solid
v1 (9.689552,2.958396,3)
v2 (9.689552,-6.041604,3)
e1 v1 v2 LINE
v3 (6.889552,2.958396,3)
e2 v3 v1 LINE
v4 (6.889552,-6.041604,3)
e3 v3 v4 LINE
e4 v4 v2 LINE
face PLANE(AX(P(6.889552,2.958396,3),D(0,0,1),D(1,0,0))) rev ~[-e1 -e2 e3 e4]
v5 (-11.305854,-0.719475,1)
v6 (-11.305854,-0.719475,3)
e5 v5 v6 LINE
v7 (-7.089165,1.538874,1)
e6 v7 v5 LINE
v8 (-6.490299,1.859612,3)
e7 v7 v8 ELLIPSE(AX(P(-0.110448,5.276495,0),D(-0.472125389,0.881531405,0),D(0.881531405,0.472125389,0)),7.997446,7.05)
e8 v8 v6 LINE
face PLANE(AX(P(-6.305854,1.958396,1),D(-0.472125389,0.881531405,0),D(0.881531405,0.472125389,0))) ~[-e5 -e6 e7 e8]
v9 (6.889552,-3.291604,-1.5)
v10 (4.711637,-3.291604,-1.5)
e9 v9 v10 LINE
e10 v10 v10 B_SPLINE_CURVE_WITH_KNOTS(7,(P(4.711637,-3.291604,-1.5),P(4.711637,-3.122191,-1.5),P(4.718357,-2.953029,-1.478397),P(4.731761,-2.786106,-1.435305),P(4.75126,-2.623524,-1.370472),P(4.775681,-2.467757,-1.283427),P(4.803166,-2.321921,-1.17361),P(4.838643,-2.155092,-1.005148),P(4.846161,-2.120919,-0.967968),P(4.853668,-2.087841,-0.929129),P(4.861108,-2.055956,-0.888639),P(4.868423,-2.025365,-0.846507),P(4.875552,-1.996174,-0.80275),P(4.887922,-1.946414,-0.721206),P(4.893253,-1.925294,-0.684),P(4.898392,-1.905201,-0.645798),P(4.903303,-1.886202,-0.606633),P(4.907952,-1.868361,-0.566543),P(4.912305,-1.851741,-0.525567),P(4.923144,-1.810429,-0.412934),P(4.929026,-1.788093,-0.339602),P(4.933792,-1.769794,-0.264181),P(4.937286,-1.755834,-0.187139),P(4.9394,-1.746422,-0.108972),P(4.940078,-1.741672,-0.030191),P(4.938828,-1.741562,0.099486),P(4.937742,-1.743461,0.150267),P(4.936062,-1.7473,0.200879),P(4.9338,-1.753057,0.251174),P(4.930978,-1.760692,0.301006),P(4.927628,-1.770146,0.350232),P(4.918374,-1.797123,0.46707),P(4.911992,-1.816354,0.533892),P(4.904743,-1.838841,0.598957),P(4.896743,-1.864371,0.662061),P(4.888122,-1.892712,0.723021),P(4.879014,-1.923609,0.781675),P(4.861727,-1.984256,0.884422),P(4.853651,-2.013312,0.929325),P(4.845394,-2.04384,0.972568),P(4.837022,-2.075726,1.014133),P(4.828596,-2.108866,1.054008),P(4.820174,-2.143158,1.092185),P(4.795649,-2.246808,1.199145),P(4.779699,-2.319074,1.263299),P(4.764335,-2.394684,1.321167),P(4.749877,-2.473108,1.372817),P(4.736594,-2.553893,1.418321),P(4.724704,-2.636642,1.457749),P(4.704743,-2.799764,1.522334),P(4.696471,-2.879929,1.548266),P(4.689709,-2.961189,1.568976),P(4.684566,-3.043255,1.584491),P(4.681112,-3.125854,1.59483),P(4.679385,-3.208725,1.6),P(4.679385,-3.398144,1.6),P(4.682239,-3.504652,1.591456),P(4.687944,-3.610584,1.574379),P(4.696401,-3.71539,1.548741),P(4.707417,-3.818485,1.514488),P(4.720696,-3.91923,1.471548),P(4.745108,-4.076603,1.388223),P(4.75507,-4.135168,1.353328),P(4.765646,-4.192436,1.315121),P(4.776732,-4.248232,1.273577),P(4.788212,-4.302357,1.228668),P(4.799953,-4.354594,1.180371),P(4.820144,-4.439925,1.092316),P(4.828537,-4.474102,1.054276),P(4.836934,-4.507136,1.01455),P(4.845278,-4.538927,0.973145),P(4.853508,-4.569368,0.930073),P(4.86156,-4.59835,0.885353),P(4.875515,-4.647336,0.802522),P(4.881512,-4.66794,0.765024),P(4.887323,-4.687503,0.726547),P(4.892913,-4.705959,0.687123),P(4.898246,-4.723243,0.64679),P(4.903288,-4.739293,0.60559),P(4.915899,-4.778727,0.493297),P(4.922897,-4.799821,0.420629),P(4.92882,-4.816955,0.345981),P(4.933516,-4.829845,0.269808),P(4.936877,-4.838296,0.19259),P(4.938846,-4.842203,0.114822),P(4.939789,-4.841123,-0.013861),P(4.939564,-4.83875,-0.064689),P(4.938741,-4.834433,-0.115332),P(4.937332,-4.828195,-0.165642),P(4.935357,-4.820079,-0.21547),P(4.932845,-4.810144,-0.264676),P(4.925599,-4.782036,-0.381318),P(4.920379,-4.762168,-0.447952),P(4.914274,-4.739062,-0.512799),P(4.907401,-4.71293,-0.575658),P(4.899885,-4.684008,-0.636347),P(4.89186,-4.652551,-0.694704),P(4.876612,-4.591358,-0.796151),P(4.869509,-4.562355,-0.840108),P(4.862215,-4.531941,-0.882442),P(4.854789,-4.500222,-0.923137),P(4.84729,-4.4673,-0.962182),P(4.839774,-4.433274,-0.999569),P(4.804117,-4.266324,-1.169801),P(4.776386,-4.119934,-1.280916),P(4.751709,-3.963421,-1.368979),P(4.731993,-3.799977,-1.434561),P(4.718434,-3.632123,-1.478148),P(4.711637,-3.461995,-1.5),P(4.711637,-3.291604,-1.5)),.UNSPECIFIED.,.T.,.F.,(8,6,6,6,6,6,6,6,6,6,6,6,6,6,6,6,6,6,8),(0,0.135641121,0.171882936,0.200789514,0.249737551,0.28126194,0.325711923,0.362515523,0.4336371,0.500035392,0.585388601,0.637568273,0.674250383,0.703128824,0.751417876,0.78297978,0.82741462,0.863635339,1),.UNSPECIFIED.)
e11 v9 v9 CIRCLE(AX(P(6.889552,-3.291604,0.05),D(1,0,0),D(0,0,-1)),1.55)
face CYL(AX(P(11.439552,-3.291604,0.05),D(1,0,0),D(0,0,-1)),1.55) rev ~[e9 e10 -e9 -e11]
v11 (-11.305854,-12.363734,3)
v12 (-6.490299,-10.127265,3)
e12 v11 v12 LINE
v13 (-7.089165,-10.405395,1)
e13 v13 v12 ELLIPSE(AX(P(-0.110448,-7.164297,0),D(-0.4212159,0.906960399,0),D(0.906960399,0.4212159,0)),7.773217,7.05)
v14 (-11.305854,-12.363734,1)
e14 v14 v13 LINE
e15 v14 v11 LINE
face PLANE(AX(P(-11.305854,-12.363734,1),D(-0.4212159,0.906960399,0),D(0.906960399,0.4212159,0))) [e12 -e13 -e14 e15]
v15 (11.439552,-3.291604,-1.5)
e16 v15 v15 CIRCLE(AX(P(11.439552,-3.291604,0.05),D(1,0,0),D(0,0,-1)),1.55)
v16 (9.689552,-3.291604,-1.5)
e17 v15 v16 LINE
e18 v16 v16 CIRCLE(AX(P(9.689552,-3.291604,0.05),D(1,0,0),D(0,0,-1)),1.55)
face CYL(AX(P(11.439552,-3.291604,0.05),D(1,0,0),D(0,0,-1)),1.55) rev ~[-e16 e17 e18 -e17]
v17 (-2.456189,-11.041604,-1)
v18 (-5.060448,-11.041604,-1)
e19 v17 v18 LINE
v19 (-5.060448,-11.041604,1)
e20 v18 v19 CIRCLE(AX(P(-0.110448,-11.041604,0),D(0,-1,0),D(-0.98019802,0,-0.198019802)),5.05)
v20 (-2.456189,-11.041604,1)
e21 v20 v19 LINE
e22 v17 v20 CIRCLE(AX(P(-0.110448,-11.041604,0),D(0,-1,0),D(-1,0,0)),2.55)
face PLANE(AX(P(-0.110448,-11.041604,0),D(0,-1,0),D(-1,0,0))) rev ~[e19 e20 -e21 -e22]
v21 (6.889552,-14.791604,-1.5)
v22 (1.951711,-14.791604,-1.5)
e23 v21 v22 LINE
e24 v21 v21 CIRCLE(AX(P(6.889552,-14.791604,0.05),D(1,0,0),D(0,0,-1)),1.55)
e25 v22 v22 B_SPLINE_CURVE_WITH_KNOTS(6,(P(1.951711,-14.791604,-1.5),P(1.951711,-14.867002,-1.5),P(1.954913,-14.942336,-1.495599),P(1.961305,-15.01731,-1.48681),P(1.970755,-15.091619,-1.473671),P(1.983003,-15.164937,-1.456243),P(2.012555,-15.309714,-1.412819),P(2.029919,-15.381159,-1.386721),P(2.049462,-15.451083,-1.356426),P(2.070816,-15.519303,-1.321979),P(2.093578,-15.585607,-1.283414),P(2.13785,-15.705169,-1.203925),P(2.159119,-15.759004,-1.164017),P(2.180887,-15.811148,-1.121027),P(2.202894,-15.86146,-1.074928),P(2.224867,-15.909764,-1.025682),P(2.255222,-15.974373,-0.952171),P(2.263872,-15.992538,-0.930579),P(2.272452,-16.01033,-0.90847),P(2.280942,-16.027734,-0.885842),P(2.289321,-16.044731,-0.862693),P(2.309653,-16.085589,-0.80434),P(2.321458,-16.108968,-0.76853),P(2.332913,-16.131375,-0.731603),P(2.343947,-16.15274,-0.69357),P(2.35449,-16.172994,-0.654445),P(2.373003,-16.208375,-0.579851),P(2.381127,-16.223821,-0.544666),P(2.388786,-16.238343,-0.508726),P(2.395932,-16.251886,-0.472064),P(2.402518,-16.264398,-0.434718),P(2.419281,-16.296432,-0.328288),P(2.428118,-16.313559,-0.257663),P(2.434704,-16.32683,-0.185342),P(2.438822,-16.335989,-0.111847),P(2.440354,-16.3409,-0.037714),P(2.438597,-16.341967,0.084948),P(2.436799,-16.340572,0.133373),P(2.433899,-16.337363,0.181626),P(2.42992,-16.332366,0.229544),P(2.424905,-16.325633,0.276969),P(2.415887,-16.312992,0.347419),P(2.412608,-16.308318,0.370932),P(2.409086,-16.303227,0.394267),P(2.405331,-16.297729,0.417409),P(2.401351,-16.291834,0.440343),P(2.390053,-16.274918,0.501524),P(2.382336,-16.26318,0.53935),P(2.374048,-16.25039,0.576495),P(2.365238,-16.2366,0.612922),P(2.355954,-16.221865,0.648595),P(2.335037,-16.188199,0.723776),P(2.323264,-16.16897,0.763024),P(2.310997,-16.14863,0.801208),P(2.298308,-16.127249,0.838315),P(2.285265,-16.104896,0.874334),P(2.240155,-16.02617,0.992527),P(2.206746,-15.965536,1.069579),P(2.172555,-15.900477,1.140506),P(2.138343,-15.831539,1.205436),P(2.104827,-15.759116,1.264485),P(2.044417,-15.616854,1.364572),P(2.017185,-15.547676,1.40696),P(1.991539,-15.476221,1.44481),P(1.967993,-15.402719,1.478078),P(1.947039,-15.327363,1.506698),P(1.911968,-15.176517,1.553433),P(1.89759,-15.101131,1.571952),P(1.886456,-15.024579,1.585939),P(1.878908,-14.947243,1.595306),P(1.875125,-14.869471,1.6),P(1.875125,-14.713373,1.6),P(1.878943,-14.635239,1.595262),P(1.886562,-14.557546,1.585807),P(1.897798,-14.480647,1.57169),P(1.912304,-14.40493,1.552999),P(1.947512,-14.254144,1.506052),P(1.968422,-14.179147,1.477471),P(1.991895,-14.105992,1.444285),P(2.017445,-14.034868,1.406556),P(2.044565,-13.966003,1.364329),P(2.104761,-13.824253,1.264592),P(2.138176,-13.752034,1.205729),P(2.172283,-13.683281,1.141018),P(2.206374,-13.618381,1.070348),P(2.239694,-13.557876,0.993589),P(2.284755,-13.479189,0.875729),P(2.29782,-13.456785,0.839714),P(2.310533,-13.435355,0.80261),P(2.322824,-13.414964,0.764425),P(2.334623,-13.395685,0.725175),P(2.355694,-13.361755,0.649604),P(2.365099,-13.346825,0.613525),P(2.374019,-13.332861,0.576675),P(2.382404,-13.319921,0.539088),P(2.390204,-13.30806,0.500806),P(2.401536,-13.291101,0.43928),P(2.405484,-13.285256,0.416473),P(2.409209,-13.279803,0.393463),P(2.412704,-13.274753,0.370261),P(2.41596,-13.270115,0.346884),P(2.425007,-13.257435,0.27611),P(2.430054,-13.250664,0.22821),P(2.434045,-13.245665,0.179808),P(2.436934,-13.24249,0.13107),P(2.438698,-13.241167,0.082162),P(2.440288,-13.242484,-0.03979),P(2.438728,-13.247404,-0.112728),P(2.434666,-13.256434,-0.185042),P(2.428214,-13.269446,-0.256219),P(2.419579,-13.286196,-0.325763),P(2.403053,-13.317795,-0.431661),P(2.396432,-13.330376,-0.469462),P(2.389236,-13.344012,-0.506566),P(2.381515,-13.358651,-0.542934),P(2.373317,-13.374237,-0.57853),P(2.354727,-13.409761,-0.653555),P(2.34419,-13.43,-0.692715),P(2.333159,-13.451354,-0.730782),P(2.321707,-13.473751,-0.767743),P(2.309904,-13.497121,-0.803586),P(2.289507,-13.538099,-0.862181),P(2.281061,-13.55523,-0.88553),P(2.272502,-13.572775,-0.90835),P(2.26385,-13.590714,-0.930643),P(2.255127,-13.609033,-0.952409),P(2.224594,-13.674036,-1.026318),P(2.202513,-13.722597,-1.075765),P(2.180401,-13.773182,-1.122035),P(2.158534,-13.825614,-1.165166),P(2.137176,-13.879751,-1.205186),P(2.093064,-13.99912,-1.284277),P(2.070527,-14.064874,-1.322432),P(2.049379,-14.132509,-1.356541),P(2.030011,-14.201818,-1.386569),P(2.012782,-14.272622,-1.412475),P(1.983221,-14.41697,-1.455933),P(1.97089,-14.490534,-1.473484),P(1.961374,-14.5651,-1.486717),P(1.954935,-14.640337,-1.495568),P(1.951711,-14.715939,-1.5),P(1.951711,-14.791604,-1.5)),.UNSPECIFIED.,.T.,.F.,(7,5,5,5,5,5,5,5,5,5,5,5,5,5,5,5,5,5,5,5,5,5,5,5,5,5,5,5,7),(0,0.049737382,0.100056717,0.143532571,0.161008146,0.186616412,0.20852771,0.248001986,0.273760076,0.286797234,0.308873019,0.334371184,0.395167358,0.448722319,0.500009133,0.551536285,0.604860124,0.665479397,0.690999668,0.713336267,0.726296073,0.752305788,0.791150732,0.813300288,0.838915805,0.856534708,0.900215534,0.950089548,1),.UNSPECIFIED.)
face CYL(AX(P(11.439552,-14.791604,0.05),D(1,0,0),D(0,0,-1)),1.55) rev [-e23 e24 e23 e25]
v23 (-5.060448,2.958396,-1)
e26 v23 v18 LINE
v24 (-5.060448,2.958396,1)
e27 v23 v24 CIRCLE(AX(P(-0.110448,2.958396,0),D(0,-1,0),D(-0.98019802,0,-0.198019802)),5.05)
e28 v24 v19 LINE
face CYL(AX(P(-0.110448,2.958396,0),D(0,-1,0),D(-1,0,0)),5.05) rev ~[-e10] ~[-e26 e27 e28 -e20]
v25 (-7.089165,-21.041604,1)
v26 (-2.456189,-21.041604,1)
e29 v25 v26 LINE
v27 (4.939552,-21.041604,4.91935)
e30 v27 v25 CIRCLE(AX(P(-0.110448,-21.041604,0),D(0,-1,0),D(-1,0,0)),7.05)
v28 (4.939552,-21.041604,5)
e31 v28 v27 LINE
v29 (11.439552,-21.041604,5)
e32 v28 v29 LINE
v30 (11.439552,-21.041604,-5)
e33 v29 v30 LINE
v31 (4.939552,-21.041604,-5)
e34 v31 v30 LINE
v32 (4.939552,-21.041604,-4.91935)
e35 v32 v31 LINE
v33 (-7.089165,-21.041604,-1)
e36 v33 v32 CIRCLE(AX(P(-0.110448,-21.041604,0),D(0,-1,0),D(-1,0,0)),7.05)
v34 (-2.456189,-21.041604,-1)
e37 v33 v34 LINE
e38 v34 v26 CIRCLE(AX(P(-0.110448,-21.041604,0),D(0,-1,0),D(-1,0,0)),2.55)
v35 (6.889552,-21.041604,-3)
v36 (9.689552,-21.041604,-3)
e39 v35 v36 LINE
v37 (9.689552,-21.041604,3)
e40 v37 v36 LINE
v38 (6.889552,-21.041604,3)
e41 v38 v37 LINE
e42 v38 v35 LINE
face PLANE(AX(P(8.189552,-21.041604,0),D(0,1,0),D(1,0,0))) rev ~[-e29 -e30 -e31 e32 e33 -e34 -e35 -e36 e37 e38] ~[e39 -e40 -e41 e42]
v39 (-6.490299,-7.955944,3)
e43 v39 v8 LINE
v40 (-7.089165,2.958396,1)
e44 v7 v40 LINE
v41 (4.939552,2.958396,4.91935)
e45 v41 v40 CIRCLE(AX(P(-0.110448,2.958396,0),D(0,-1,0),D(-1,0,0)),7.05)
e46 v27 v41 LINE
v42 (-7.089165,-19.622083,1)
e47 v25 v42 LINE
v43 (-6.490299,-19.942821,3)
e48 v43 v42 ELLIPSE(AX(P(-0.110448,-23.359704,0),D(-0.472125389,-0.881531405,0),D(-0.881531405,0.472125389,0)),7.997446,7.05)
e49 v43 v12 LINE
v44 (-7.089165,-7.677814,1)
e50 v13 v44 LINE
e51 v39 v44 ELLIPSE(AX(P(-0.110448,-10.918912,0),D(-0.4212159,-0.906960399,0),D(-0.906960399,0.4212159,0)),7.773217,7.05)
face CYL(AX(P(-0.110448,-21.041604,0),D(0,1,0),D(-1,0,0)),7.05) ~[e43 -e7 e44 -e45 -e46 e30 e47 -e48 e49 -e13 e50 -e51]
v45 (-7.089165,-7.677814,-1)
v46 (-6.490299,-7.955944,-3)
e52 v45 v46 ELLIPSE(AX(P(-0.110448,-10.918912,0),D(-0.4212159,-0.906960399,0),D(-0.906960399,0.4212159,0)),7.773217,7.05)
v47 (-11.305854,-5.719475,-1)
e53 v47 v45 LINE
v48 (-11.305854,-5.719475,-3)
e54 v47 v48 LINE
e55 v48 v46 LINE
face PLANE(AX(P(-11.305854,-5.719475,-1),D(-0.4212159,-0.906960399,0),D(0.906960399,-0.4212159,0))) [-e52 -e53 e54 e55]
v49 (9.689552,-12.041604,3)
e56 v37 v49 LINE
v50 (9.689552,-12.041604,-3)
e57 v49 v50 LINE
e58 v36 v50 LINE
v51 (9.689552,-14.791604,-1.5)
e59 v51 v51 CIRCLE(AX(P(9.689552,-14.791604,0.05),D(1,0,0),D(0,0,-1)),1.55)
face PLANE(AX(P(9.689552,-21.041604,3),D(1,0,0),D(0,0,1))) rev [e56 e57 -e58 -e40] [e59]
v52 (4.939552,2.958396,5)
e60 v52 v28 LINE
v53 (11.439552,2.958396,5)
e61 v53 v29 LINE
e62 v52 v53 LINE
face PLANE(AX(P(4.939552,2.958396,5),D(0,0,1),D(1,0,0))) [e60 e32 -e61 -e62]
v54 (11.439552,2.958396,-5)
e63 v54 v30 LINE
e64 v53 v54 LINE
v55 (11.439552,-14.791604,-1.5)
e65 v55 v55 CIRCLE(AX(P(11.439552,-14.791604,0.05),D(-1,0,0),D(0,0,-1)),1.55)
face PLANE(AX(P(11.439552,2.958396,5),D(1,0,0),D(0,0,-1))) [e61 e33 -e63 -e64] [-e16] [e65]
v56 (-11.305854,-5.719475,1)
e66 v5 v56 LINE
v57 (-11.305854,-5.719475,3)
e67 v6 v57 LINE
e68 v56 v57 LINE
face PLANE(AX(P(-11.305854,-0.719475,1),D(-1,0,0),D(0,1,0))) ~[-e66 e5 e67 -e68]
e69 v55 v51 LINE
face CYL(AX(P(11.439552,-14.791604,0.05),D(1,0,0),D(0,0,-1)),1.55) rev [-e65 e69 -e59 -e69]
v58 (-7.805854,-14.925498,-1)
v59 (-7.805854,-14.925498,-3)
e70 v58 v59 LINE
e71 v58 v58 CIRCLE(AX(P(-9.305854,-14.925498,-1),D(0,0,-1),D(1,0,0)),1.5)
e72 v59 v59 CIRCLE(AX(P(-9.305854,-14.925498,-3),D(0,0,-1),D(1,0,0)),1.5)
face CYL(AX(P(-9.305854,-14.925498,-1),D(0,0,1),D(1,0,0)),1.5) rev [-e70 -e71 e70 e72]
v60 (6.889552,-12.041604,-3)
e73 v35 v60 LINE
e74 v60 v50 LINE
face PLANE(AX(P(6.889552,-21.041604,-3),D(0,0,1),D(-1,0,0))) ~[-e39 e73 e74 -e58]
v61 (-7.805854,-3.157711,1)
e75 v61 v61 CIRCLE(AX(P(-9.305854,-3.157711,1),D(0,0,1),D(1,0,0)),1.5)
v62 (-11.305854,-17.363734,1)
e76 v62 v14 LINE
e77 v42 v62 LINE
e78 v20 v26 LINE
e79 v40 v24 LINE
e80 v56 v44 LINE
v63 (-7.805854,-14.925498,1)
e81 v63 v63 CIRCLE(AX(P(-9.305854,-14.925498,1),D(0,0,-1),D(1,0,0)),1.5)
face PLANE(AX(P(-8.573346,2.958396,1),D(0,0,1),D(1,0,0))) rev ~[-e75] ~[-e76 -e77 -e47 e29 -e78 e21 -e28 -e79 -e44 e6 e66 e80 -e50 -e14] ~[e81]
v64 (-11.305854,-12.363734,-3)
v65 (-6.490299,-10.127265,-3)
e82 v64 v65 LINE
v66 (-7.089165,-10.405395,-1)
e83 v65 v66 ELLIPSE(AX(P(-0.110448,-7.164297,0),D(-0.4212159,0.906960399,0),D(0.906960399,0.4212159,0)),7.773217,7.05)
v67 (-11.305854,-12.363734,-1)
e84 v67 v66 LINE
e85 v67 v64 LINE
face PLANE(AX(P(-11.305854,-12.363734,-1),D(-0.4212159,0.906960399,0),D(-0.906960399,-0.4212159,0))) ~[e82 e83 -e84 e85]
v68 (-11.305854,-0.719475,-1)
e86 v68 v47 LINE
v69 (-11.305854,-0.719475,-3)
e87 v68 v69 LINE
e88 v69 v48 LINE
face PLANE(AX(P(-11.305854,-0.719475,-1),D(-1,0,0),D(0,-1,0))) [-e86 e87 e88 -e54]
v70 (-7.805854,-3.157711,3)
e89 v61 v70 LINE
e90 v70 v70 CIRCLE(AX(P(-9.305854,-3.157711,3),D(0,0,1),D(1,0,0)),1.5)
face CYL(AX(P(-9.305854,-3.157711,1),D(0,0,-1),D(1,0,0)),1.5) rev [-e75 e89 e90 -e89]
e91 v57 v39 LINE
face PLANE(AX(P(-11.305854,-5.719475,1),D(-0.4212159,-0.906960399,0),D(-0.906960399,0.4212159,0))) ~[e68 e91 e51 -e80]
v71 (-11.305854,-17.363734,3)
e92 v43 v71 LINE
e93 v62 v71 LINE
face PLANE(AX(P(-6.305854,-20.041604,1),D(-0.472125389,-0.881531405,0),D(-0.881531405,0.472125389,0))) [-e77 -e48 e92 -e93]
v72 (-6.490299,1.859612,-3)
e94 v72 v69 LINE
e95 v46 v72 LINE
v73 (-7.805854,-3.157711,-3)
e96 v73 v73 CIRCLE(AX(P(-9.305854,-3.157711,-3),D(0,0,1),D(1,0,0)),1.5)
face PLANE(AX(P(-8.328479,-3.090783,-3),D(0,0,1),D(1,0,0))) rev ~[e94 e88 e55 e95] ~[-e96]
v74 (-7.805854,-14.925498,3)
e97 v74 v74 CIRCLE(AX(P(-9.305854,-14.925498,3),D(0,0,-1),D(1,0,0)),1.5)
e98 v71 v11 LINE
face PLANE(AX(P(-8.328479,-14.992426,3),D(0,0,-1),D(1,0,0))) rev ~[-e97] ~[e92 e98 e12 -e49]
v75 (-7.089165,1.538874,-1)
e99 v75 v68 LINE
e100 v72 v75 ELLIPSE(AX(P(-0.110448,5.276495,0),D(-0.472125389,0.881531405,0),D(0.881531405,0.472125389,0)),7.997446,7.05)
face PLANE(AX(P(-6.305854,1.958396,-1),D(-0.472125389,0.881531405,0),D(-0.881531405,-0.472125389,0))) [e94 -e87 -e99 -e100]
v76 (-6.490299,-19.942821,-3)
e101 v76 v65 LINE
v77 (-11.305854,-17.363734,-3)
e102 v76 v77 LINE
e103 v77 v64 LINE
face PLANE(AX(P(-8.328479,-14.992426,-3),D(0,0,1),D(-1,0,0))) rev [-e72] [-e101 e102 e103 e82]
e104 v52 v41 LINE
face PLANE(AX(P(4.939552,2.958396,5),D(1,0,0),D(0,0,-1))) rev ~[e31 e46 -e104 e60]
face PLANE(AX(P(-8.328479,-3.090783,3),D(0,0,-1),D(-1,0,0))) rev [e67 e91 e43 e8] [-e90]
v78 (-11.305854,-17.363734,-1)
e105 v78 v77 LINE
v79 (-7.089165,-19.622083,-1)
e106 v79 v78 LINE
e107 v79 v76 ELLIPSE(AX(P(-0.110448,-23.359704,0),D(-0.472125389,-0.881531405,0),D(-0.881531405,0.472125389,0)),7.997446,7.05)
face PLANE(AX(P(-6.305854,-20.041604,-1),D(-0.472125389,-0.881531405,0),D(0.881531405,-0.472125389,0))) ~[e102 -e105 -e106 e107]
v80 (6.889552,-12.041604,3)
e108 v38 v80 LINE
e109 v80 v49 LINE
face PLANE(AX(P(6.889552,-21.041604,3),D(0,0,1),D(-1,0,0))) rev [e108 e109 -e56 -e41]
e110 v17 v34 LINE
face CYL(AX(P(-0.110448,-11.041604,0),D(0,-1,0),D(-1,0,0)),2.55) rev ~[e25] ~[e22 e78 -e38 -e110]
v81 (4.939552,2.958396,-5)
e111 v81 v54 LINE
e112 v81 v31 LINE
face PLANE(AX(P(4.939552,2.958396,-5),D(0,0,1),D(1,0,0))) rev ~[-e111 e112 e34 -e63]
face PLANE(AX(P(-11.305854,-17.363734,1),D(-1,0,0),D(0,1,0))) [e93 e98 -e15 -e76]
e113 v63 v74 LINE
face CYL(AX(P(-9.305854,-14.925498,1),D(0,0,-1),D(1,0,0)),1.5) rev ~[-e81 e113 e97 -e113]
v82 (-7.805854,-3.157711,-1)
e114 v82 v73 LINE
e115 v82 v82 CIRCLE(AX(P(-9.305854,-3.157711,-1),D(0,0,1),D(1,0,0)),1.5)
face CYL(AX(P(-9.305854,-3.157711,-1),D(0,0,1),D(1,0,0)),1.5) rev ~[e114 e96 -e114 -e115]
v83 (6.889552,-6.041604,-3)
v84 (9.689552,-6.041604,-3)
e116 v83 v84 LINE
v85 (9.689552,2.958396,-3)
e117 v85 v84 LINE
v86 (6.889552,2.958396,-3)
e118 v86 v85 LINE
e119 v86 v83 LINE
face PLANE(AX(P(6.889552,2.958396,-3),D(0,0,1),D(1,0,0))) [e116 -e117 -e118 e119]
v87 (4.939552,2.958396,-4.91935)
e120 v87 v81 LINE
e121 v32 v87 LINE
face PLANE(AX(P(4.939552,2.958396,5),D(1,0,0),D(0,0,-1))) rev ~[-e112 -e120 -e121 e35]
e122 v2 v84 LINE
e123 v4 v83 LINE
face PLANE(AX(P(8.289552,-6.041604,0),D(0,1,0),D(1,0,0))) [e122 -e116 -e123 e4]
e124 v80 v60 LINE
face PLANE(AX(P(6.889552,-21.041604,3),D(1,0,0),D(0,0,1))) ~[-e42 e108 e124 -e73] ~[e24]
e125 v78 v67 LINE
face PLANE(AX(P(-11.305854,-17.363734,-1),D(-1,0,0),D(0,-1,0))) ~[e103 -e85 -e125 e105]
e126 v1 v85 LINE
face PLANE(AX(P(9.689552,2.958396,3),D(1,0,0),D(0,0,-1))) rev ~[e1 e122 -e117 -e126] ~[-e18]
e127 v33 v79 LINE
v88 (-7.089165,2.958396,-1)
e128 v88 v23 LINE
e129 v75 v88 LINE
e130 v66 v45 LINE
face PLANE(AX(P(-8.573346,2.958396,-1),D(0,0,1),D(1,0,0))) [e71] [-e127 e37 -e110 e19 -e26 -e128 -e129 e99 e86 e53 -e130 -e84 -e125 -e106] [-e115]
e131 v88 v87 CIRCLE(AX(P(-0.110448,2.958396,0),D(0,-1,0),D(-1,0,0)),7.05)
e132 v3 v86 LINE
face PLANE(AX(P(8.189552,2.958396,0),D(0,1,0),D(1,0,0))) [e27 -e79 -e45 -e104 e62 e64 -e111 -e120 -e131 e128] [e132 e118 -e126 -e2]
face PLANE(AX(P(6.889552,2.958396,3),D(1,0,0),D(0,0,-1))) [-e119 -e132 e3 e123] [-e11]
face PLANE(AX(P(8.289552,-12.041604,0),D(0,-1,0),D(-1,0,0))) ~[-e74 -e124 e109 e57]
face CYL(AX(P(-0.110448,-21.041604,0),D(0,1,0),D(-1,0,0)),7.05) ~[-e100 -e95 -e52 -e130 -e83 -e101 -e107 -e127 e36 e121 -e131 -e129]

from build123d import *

# Parameters (mm, degrees)
SKETCH2_W               = 6.825797408
SKETCH2_H               = 2
CUT_EXTRUDE1_DEPTH      = 25
SKETCH3_R               = 1.5
BOSS_EXTRUDE1_DEPTH     = 2
SKETCH4_W               = 6.5
SKETCH4_H               = 10
BOSS_EXTRUDE2_DEPTH     = 24
SKETCH5_W               = 2.8
SKETCH5_H               = 6
CUT_EXTRUDE2_DEPTH      = 9
SKETCH6_R               = 1.55
CUT_EXTRUDE3_DEPTH      = 10
MIRROR4_COPY_1_SKETCH_R = 1.5
MIRROR4_COPY_1_DEPTH    = 2


with BuildPart() as part:
    # Sketch1 → Revolve1 (revolve)
    with BuildSketch(Plane.XY):
        Polygon((-2.660447761, -21.041604478), (-7.160447761, -21.041604478), (-7.160447761, 2.958395522), (-5.160447761, 2.958395522), (-5.160447761, -11.041604478), (-2.660447761, -11.041604478), align=None)
    revolve(axis=Axis((-0.110447761, 2.958395522, 0), (0, -1, 0)))

    # Sketch2 → Cut-Extrude1 (cut, through all)
    with BuildSketch(Plane(origin=(0, 2.958395522, 0), x_dir=(1, 0, 0), z_dir=(0, 1, 0))):
        with Locations((-5.160447761, 0)):
            Rectangle(SKETCH2_W, SKETCH2_H)
    extrude(amount=-CUT_EXTRUDE1_DEPTH, mode=Mode.SUBTRACT)

    # Sketch3 → Boss-Extrude1 (add)
    with BuildSketch(Plane.XY.offset(-1)):
        Polygon((-6.305854072, 1.958395522), (-11.305854072, -0.719474979), (-11.305854072, -5.719474979), (-6.305854072, -8.041604478), align=None)
        with Locations((-9.305854072, -3.157710953)):
            Circle(SKETCH3_R, mode=Mode.SUBTRACT)
    boss_extrude1 = extrude(amount=-BOSS_EXTRUDE1_DEPTH)

    # Mirror1: Boss-Extrude1 across plane
    add(boss_extrude1.mirror(Plane.XY))

    # Sketch4 → Boss-Extrude2 (add, through all)
    with BuildSketch(Plane(origin=(0, 2.958395522, 0), x_dir=(1, 0, 0), z_dir=(0, 1, 0))):
        with Locations((8.189552239, 0)):
            Rectangle(SKETCH4_W, SKETCH4_H)
    extrude(amount=-BOSS_EXTRUDE2_DEPTH)

    # Sketch5 → Cut-Extrude2 (cut)
    with BuildSketch(Plane(origin=(0, 2.958395522, 0), x_dir=(1, 0, 0), z_dir=(0, 1, 0))):
        with Locations((8.289552239, 0)):
            Rectangle(SKETCH5_W, SKETCH5_H)
    cut_extrude2 = extrude(amount=-CUT_EXTRUDE2_DEPTH, mode=Mode.SUBTRACT)

    # Mirror2: Cut-Extrude2 across plane
    add(cut_extrude2.mirror(Plane.ZX.offset(-9.041604478)), mode=Mode.SUBTRACT)

    # Sketch6 → Cut-Extrude3 (cut)
    with BuildSketch(Plane(origin=(11.439552239, 0, 0), x_dir=(0, 0, -1), z_dir=(1, 0, 0))):
        with Locations((-0.05, -3.291604478)):
            Circle(SKETCH6_R)
    cut_extrude3 = extrude(amount=-CUT_EXTRUDE3_DEPTH, mode=Mode.SUBTRACT)

    # Mirror3: Cut-Extrude3 across plane
    add(cut_extrude3.mirror(Plane.ZX.offset(-9.041604478)), mode=Mode.SUBTRACT)

    # Mirror4: Boss-Extrude1 across plane
    add(boss_extrude1.mirror(Plane.ZX.offset(-9.041604478)))

    # Mirror4 copy 1 sketch → Mirror4 copy 1 (add)
    with BuildSketch(Plane(origin=(0, -18.083208955, 1), x_dir=(1, 0, 0), z_dir=(0, 0, -1))):
        Polygon((-6.305854072, 1.958395522), (-11.305854072, -0.719474979), (-11.305854072, -5.719474979), (-6.305854072, -8.041604478), align=None)
        with Locations((-9.305854072, -3.157710953)):
            Circle(MIRROR4_COPY_1_SKETCH_R, mode=Mode.SUBTRACT)
    extrude(amount=-MIRROR4_COPY_1_DEPTH)


solid = part.part
